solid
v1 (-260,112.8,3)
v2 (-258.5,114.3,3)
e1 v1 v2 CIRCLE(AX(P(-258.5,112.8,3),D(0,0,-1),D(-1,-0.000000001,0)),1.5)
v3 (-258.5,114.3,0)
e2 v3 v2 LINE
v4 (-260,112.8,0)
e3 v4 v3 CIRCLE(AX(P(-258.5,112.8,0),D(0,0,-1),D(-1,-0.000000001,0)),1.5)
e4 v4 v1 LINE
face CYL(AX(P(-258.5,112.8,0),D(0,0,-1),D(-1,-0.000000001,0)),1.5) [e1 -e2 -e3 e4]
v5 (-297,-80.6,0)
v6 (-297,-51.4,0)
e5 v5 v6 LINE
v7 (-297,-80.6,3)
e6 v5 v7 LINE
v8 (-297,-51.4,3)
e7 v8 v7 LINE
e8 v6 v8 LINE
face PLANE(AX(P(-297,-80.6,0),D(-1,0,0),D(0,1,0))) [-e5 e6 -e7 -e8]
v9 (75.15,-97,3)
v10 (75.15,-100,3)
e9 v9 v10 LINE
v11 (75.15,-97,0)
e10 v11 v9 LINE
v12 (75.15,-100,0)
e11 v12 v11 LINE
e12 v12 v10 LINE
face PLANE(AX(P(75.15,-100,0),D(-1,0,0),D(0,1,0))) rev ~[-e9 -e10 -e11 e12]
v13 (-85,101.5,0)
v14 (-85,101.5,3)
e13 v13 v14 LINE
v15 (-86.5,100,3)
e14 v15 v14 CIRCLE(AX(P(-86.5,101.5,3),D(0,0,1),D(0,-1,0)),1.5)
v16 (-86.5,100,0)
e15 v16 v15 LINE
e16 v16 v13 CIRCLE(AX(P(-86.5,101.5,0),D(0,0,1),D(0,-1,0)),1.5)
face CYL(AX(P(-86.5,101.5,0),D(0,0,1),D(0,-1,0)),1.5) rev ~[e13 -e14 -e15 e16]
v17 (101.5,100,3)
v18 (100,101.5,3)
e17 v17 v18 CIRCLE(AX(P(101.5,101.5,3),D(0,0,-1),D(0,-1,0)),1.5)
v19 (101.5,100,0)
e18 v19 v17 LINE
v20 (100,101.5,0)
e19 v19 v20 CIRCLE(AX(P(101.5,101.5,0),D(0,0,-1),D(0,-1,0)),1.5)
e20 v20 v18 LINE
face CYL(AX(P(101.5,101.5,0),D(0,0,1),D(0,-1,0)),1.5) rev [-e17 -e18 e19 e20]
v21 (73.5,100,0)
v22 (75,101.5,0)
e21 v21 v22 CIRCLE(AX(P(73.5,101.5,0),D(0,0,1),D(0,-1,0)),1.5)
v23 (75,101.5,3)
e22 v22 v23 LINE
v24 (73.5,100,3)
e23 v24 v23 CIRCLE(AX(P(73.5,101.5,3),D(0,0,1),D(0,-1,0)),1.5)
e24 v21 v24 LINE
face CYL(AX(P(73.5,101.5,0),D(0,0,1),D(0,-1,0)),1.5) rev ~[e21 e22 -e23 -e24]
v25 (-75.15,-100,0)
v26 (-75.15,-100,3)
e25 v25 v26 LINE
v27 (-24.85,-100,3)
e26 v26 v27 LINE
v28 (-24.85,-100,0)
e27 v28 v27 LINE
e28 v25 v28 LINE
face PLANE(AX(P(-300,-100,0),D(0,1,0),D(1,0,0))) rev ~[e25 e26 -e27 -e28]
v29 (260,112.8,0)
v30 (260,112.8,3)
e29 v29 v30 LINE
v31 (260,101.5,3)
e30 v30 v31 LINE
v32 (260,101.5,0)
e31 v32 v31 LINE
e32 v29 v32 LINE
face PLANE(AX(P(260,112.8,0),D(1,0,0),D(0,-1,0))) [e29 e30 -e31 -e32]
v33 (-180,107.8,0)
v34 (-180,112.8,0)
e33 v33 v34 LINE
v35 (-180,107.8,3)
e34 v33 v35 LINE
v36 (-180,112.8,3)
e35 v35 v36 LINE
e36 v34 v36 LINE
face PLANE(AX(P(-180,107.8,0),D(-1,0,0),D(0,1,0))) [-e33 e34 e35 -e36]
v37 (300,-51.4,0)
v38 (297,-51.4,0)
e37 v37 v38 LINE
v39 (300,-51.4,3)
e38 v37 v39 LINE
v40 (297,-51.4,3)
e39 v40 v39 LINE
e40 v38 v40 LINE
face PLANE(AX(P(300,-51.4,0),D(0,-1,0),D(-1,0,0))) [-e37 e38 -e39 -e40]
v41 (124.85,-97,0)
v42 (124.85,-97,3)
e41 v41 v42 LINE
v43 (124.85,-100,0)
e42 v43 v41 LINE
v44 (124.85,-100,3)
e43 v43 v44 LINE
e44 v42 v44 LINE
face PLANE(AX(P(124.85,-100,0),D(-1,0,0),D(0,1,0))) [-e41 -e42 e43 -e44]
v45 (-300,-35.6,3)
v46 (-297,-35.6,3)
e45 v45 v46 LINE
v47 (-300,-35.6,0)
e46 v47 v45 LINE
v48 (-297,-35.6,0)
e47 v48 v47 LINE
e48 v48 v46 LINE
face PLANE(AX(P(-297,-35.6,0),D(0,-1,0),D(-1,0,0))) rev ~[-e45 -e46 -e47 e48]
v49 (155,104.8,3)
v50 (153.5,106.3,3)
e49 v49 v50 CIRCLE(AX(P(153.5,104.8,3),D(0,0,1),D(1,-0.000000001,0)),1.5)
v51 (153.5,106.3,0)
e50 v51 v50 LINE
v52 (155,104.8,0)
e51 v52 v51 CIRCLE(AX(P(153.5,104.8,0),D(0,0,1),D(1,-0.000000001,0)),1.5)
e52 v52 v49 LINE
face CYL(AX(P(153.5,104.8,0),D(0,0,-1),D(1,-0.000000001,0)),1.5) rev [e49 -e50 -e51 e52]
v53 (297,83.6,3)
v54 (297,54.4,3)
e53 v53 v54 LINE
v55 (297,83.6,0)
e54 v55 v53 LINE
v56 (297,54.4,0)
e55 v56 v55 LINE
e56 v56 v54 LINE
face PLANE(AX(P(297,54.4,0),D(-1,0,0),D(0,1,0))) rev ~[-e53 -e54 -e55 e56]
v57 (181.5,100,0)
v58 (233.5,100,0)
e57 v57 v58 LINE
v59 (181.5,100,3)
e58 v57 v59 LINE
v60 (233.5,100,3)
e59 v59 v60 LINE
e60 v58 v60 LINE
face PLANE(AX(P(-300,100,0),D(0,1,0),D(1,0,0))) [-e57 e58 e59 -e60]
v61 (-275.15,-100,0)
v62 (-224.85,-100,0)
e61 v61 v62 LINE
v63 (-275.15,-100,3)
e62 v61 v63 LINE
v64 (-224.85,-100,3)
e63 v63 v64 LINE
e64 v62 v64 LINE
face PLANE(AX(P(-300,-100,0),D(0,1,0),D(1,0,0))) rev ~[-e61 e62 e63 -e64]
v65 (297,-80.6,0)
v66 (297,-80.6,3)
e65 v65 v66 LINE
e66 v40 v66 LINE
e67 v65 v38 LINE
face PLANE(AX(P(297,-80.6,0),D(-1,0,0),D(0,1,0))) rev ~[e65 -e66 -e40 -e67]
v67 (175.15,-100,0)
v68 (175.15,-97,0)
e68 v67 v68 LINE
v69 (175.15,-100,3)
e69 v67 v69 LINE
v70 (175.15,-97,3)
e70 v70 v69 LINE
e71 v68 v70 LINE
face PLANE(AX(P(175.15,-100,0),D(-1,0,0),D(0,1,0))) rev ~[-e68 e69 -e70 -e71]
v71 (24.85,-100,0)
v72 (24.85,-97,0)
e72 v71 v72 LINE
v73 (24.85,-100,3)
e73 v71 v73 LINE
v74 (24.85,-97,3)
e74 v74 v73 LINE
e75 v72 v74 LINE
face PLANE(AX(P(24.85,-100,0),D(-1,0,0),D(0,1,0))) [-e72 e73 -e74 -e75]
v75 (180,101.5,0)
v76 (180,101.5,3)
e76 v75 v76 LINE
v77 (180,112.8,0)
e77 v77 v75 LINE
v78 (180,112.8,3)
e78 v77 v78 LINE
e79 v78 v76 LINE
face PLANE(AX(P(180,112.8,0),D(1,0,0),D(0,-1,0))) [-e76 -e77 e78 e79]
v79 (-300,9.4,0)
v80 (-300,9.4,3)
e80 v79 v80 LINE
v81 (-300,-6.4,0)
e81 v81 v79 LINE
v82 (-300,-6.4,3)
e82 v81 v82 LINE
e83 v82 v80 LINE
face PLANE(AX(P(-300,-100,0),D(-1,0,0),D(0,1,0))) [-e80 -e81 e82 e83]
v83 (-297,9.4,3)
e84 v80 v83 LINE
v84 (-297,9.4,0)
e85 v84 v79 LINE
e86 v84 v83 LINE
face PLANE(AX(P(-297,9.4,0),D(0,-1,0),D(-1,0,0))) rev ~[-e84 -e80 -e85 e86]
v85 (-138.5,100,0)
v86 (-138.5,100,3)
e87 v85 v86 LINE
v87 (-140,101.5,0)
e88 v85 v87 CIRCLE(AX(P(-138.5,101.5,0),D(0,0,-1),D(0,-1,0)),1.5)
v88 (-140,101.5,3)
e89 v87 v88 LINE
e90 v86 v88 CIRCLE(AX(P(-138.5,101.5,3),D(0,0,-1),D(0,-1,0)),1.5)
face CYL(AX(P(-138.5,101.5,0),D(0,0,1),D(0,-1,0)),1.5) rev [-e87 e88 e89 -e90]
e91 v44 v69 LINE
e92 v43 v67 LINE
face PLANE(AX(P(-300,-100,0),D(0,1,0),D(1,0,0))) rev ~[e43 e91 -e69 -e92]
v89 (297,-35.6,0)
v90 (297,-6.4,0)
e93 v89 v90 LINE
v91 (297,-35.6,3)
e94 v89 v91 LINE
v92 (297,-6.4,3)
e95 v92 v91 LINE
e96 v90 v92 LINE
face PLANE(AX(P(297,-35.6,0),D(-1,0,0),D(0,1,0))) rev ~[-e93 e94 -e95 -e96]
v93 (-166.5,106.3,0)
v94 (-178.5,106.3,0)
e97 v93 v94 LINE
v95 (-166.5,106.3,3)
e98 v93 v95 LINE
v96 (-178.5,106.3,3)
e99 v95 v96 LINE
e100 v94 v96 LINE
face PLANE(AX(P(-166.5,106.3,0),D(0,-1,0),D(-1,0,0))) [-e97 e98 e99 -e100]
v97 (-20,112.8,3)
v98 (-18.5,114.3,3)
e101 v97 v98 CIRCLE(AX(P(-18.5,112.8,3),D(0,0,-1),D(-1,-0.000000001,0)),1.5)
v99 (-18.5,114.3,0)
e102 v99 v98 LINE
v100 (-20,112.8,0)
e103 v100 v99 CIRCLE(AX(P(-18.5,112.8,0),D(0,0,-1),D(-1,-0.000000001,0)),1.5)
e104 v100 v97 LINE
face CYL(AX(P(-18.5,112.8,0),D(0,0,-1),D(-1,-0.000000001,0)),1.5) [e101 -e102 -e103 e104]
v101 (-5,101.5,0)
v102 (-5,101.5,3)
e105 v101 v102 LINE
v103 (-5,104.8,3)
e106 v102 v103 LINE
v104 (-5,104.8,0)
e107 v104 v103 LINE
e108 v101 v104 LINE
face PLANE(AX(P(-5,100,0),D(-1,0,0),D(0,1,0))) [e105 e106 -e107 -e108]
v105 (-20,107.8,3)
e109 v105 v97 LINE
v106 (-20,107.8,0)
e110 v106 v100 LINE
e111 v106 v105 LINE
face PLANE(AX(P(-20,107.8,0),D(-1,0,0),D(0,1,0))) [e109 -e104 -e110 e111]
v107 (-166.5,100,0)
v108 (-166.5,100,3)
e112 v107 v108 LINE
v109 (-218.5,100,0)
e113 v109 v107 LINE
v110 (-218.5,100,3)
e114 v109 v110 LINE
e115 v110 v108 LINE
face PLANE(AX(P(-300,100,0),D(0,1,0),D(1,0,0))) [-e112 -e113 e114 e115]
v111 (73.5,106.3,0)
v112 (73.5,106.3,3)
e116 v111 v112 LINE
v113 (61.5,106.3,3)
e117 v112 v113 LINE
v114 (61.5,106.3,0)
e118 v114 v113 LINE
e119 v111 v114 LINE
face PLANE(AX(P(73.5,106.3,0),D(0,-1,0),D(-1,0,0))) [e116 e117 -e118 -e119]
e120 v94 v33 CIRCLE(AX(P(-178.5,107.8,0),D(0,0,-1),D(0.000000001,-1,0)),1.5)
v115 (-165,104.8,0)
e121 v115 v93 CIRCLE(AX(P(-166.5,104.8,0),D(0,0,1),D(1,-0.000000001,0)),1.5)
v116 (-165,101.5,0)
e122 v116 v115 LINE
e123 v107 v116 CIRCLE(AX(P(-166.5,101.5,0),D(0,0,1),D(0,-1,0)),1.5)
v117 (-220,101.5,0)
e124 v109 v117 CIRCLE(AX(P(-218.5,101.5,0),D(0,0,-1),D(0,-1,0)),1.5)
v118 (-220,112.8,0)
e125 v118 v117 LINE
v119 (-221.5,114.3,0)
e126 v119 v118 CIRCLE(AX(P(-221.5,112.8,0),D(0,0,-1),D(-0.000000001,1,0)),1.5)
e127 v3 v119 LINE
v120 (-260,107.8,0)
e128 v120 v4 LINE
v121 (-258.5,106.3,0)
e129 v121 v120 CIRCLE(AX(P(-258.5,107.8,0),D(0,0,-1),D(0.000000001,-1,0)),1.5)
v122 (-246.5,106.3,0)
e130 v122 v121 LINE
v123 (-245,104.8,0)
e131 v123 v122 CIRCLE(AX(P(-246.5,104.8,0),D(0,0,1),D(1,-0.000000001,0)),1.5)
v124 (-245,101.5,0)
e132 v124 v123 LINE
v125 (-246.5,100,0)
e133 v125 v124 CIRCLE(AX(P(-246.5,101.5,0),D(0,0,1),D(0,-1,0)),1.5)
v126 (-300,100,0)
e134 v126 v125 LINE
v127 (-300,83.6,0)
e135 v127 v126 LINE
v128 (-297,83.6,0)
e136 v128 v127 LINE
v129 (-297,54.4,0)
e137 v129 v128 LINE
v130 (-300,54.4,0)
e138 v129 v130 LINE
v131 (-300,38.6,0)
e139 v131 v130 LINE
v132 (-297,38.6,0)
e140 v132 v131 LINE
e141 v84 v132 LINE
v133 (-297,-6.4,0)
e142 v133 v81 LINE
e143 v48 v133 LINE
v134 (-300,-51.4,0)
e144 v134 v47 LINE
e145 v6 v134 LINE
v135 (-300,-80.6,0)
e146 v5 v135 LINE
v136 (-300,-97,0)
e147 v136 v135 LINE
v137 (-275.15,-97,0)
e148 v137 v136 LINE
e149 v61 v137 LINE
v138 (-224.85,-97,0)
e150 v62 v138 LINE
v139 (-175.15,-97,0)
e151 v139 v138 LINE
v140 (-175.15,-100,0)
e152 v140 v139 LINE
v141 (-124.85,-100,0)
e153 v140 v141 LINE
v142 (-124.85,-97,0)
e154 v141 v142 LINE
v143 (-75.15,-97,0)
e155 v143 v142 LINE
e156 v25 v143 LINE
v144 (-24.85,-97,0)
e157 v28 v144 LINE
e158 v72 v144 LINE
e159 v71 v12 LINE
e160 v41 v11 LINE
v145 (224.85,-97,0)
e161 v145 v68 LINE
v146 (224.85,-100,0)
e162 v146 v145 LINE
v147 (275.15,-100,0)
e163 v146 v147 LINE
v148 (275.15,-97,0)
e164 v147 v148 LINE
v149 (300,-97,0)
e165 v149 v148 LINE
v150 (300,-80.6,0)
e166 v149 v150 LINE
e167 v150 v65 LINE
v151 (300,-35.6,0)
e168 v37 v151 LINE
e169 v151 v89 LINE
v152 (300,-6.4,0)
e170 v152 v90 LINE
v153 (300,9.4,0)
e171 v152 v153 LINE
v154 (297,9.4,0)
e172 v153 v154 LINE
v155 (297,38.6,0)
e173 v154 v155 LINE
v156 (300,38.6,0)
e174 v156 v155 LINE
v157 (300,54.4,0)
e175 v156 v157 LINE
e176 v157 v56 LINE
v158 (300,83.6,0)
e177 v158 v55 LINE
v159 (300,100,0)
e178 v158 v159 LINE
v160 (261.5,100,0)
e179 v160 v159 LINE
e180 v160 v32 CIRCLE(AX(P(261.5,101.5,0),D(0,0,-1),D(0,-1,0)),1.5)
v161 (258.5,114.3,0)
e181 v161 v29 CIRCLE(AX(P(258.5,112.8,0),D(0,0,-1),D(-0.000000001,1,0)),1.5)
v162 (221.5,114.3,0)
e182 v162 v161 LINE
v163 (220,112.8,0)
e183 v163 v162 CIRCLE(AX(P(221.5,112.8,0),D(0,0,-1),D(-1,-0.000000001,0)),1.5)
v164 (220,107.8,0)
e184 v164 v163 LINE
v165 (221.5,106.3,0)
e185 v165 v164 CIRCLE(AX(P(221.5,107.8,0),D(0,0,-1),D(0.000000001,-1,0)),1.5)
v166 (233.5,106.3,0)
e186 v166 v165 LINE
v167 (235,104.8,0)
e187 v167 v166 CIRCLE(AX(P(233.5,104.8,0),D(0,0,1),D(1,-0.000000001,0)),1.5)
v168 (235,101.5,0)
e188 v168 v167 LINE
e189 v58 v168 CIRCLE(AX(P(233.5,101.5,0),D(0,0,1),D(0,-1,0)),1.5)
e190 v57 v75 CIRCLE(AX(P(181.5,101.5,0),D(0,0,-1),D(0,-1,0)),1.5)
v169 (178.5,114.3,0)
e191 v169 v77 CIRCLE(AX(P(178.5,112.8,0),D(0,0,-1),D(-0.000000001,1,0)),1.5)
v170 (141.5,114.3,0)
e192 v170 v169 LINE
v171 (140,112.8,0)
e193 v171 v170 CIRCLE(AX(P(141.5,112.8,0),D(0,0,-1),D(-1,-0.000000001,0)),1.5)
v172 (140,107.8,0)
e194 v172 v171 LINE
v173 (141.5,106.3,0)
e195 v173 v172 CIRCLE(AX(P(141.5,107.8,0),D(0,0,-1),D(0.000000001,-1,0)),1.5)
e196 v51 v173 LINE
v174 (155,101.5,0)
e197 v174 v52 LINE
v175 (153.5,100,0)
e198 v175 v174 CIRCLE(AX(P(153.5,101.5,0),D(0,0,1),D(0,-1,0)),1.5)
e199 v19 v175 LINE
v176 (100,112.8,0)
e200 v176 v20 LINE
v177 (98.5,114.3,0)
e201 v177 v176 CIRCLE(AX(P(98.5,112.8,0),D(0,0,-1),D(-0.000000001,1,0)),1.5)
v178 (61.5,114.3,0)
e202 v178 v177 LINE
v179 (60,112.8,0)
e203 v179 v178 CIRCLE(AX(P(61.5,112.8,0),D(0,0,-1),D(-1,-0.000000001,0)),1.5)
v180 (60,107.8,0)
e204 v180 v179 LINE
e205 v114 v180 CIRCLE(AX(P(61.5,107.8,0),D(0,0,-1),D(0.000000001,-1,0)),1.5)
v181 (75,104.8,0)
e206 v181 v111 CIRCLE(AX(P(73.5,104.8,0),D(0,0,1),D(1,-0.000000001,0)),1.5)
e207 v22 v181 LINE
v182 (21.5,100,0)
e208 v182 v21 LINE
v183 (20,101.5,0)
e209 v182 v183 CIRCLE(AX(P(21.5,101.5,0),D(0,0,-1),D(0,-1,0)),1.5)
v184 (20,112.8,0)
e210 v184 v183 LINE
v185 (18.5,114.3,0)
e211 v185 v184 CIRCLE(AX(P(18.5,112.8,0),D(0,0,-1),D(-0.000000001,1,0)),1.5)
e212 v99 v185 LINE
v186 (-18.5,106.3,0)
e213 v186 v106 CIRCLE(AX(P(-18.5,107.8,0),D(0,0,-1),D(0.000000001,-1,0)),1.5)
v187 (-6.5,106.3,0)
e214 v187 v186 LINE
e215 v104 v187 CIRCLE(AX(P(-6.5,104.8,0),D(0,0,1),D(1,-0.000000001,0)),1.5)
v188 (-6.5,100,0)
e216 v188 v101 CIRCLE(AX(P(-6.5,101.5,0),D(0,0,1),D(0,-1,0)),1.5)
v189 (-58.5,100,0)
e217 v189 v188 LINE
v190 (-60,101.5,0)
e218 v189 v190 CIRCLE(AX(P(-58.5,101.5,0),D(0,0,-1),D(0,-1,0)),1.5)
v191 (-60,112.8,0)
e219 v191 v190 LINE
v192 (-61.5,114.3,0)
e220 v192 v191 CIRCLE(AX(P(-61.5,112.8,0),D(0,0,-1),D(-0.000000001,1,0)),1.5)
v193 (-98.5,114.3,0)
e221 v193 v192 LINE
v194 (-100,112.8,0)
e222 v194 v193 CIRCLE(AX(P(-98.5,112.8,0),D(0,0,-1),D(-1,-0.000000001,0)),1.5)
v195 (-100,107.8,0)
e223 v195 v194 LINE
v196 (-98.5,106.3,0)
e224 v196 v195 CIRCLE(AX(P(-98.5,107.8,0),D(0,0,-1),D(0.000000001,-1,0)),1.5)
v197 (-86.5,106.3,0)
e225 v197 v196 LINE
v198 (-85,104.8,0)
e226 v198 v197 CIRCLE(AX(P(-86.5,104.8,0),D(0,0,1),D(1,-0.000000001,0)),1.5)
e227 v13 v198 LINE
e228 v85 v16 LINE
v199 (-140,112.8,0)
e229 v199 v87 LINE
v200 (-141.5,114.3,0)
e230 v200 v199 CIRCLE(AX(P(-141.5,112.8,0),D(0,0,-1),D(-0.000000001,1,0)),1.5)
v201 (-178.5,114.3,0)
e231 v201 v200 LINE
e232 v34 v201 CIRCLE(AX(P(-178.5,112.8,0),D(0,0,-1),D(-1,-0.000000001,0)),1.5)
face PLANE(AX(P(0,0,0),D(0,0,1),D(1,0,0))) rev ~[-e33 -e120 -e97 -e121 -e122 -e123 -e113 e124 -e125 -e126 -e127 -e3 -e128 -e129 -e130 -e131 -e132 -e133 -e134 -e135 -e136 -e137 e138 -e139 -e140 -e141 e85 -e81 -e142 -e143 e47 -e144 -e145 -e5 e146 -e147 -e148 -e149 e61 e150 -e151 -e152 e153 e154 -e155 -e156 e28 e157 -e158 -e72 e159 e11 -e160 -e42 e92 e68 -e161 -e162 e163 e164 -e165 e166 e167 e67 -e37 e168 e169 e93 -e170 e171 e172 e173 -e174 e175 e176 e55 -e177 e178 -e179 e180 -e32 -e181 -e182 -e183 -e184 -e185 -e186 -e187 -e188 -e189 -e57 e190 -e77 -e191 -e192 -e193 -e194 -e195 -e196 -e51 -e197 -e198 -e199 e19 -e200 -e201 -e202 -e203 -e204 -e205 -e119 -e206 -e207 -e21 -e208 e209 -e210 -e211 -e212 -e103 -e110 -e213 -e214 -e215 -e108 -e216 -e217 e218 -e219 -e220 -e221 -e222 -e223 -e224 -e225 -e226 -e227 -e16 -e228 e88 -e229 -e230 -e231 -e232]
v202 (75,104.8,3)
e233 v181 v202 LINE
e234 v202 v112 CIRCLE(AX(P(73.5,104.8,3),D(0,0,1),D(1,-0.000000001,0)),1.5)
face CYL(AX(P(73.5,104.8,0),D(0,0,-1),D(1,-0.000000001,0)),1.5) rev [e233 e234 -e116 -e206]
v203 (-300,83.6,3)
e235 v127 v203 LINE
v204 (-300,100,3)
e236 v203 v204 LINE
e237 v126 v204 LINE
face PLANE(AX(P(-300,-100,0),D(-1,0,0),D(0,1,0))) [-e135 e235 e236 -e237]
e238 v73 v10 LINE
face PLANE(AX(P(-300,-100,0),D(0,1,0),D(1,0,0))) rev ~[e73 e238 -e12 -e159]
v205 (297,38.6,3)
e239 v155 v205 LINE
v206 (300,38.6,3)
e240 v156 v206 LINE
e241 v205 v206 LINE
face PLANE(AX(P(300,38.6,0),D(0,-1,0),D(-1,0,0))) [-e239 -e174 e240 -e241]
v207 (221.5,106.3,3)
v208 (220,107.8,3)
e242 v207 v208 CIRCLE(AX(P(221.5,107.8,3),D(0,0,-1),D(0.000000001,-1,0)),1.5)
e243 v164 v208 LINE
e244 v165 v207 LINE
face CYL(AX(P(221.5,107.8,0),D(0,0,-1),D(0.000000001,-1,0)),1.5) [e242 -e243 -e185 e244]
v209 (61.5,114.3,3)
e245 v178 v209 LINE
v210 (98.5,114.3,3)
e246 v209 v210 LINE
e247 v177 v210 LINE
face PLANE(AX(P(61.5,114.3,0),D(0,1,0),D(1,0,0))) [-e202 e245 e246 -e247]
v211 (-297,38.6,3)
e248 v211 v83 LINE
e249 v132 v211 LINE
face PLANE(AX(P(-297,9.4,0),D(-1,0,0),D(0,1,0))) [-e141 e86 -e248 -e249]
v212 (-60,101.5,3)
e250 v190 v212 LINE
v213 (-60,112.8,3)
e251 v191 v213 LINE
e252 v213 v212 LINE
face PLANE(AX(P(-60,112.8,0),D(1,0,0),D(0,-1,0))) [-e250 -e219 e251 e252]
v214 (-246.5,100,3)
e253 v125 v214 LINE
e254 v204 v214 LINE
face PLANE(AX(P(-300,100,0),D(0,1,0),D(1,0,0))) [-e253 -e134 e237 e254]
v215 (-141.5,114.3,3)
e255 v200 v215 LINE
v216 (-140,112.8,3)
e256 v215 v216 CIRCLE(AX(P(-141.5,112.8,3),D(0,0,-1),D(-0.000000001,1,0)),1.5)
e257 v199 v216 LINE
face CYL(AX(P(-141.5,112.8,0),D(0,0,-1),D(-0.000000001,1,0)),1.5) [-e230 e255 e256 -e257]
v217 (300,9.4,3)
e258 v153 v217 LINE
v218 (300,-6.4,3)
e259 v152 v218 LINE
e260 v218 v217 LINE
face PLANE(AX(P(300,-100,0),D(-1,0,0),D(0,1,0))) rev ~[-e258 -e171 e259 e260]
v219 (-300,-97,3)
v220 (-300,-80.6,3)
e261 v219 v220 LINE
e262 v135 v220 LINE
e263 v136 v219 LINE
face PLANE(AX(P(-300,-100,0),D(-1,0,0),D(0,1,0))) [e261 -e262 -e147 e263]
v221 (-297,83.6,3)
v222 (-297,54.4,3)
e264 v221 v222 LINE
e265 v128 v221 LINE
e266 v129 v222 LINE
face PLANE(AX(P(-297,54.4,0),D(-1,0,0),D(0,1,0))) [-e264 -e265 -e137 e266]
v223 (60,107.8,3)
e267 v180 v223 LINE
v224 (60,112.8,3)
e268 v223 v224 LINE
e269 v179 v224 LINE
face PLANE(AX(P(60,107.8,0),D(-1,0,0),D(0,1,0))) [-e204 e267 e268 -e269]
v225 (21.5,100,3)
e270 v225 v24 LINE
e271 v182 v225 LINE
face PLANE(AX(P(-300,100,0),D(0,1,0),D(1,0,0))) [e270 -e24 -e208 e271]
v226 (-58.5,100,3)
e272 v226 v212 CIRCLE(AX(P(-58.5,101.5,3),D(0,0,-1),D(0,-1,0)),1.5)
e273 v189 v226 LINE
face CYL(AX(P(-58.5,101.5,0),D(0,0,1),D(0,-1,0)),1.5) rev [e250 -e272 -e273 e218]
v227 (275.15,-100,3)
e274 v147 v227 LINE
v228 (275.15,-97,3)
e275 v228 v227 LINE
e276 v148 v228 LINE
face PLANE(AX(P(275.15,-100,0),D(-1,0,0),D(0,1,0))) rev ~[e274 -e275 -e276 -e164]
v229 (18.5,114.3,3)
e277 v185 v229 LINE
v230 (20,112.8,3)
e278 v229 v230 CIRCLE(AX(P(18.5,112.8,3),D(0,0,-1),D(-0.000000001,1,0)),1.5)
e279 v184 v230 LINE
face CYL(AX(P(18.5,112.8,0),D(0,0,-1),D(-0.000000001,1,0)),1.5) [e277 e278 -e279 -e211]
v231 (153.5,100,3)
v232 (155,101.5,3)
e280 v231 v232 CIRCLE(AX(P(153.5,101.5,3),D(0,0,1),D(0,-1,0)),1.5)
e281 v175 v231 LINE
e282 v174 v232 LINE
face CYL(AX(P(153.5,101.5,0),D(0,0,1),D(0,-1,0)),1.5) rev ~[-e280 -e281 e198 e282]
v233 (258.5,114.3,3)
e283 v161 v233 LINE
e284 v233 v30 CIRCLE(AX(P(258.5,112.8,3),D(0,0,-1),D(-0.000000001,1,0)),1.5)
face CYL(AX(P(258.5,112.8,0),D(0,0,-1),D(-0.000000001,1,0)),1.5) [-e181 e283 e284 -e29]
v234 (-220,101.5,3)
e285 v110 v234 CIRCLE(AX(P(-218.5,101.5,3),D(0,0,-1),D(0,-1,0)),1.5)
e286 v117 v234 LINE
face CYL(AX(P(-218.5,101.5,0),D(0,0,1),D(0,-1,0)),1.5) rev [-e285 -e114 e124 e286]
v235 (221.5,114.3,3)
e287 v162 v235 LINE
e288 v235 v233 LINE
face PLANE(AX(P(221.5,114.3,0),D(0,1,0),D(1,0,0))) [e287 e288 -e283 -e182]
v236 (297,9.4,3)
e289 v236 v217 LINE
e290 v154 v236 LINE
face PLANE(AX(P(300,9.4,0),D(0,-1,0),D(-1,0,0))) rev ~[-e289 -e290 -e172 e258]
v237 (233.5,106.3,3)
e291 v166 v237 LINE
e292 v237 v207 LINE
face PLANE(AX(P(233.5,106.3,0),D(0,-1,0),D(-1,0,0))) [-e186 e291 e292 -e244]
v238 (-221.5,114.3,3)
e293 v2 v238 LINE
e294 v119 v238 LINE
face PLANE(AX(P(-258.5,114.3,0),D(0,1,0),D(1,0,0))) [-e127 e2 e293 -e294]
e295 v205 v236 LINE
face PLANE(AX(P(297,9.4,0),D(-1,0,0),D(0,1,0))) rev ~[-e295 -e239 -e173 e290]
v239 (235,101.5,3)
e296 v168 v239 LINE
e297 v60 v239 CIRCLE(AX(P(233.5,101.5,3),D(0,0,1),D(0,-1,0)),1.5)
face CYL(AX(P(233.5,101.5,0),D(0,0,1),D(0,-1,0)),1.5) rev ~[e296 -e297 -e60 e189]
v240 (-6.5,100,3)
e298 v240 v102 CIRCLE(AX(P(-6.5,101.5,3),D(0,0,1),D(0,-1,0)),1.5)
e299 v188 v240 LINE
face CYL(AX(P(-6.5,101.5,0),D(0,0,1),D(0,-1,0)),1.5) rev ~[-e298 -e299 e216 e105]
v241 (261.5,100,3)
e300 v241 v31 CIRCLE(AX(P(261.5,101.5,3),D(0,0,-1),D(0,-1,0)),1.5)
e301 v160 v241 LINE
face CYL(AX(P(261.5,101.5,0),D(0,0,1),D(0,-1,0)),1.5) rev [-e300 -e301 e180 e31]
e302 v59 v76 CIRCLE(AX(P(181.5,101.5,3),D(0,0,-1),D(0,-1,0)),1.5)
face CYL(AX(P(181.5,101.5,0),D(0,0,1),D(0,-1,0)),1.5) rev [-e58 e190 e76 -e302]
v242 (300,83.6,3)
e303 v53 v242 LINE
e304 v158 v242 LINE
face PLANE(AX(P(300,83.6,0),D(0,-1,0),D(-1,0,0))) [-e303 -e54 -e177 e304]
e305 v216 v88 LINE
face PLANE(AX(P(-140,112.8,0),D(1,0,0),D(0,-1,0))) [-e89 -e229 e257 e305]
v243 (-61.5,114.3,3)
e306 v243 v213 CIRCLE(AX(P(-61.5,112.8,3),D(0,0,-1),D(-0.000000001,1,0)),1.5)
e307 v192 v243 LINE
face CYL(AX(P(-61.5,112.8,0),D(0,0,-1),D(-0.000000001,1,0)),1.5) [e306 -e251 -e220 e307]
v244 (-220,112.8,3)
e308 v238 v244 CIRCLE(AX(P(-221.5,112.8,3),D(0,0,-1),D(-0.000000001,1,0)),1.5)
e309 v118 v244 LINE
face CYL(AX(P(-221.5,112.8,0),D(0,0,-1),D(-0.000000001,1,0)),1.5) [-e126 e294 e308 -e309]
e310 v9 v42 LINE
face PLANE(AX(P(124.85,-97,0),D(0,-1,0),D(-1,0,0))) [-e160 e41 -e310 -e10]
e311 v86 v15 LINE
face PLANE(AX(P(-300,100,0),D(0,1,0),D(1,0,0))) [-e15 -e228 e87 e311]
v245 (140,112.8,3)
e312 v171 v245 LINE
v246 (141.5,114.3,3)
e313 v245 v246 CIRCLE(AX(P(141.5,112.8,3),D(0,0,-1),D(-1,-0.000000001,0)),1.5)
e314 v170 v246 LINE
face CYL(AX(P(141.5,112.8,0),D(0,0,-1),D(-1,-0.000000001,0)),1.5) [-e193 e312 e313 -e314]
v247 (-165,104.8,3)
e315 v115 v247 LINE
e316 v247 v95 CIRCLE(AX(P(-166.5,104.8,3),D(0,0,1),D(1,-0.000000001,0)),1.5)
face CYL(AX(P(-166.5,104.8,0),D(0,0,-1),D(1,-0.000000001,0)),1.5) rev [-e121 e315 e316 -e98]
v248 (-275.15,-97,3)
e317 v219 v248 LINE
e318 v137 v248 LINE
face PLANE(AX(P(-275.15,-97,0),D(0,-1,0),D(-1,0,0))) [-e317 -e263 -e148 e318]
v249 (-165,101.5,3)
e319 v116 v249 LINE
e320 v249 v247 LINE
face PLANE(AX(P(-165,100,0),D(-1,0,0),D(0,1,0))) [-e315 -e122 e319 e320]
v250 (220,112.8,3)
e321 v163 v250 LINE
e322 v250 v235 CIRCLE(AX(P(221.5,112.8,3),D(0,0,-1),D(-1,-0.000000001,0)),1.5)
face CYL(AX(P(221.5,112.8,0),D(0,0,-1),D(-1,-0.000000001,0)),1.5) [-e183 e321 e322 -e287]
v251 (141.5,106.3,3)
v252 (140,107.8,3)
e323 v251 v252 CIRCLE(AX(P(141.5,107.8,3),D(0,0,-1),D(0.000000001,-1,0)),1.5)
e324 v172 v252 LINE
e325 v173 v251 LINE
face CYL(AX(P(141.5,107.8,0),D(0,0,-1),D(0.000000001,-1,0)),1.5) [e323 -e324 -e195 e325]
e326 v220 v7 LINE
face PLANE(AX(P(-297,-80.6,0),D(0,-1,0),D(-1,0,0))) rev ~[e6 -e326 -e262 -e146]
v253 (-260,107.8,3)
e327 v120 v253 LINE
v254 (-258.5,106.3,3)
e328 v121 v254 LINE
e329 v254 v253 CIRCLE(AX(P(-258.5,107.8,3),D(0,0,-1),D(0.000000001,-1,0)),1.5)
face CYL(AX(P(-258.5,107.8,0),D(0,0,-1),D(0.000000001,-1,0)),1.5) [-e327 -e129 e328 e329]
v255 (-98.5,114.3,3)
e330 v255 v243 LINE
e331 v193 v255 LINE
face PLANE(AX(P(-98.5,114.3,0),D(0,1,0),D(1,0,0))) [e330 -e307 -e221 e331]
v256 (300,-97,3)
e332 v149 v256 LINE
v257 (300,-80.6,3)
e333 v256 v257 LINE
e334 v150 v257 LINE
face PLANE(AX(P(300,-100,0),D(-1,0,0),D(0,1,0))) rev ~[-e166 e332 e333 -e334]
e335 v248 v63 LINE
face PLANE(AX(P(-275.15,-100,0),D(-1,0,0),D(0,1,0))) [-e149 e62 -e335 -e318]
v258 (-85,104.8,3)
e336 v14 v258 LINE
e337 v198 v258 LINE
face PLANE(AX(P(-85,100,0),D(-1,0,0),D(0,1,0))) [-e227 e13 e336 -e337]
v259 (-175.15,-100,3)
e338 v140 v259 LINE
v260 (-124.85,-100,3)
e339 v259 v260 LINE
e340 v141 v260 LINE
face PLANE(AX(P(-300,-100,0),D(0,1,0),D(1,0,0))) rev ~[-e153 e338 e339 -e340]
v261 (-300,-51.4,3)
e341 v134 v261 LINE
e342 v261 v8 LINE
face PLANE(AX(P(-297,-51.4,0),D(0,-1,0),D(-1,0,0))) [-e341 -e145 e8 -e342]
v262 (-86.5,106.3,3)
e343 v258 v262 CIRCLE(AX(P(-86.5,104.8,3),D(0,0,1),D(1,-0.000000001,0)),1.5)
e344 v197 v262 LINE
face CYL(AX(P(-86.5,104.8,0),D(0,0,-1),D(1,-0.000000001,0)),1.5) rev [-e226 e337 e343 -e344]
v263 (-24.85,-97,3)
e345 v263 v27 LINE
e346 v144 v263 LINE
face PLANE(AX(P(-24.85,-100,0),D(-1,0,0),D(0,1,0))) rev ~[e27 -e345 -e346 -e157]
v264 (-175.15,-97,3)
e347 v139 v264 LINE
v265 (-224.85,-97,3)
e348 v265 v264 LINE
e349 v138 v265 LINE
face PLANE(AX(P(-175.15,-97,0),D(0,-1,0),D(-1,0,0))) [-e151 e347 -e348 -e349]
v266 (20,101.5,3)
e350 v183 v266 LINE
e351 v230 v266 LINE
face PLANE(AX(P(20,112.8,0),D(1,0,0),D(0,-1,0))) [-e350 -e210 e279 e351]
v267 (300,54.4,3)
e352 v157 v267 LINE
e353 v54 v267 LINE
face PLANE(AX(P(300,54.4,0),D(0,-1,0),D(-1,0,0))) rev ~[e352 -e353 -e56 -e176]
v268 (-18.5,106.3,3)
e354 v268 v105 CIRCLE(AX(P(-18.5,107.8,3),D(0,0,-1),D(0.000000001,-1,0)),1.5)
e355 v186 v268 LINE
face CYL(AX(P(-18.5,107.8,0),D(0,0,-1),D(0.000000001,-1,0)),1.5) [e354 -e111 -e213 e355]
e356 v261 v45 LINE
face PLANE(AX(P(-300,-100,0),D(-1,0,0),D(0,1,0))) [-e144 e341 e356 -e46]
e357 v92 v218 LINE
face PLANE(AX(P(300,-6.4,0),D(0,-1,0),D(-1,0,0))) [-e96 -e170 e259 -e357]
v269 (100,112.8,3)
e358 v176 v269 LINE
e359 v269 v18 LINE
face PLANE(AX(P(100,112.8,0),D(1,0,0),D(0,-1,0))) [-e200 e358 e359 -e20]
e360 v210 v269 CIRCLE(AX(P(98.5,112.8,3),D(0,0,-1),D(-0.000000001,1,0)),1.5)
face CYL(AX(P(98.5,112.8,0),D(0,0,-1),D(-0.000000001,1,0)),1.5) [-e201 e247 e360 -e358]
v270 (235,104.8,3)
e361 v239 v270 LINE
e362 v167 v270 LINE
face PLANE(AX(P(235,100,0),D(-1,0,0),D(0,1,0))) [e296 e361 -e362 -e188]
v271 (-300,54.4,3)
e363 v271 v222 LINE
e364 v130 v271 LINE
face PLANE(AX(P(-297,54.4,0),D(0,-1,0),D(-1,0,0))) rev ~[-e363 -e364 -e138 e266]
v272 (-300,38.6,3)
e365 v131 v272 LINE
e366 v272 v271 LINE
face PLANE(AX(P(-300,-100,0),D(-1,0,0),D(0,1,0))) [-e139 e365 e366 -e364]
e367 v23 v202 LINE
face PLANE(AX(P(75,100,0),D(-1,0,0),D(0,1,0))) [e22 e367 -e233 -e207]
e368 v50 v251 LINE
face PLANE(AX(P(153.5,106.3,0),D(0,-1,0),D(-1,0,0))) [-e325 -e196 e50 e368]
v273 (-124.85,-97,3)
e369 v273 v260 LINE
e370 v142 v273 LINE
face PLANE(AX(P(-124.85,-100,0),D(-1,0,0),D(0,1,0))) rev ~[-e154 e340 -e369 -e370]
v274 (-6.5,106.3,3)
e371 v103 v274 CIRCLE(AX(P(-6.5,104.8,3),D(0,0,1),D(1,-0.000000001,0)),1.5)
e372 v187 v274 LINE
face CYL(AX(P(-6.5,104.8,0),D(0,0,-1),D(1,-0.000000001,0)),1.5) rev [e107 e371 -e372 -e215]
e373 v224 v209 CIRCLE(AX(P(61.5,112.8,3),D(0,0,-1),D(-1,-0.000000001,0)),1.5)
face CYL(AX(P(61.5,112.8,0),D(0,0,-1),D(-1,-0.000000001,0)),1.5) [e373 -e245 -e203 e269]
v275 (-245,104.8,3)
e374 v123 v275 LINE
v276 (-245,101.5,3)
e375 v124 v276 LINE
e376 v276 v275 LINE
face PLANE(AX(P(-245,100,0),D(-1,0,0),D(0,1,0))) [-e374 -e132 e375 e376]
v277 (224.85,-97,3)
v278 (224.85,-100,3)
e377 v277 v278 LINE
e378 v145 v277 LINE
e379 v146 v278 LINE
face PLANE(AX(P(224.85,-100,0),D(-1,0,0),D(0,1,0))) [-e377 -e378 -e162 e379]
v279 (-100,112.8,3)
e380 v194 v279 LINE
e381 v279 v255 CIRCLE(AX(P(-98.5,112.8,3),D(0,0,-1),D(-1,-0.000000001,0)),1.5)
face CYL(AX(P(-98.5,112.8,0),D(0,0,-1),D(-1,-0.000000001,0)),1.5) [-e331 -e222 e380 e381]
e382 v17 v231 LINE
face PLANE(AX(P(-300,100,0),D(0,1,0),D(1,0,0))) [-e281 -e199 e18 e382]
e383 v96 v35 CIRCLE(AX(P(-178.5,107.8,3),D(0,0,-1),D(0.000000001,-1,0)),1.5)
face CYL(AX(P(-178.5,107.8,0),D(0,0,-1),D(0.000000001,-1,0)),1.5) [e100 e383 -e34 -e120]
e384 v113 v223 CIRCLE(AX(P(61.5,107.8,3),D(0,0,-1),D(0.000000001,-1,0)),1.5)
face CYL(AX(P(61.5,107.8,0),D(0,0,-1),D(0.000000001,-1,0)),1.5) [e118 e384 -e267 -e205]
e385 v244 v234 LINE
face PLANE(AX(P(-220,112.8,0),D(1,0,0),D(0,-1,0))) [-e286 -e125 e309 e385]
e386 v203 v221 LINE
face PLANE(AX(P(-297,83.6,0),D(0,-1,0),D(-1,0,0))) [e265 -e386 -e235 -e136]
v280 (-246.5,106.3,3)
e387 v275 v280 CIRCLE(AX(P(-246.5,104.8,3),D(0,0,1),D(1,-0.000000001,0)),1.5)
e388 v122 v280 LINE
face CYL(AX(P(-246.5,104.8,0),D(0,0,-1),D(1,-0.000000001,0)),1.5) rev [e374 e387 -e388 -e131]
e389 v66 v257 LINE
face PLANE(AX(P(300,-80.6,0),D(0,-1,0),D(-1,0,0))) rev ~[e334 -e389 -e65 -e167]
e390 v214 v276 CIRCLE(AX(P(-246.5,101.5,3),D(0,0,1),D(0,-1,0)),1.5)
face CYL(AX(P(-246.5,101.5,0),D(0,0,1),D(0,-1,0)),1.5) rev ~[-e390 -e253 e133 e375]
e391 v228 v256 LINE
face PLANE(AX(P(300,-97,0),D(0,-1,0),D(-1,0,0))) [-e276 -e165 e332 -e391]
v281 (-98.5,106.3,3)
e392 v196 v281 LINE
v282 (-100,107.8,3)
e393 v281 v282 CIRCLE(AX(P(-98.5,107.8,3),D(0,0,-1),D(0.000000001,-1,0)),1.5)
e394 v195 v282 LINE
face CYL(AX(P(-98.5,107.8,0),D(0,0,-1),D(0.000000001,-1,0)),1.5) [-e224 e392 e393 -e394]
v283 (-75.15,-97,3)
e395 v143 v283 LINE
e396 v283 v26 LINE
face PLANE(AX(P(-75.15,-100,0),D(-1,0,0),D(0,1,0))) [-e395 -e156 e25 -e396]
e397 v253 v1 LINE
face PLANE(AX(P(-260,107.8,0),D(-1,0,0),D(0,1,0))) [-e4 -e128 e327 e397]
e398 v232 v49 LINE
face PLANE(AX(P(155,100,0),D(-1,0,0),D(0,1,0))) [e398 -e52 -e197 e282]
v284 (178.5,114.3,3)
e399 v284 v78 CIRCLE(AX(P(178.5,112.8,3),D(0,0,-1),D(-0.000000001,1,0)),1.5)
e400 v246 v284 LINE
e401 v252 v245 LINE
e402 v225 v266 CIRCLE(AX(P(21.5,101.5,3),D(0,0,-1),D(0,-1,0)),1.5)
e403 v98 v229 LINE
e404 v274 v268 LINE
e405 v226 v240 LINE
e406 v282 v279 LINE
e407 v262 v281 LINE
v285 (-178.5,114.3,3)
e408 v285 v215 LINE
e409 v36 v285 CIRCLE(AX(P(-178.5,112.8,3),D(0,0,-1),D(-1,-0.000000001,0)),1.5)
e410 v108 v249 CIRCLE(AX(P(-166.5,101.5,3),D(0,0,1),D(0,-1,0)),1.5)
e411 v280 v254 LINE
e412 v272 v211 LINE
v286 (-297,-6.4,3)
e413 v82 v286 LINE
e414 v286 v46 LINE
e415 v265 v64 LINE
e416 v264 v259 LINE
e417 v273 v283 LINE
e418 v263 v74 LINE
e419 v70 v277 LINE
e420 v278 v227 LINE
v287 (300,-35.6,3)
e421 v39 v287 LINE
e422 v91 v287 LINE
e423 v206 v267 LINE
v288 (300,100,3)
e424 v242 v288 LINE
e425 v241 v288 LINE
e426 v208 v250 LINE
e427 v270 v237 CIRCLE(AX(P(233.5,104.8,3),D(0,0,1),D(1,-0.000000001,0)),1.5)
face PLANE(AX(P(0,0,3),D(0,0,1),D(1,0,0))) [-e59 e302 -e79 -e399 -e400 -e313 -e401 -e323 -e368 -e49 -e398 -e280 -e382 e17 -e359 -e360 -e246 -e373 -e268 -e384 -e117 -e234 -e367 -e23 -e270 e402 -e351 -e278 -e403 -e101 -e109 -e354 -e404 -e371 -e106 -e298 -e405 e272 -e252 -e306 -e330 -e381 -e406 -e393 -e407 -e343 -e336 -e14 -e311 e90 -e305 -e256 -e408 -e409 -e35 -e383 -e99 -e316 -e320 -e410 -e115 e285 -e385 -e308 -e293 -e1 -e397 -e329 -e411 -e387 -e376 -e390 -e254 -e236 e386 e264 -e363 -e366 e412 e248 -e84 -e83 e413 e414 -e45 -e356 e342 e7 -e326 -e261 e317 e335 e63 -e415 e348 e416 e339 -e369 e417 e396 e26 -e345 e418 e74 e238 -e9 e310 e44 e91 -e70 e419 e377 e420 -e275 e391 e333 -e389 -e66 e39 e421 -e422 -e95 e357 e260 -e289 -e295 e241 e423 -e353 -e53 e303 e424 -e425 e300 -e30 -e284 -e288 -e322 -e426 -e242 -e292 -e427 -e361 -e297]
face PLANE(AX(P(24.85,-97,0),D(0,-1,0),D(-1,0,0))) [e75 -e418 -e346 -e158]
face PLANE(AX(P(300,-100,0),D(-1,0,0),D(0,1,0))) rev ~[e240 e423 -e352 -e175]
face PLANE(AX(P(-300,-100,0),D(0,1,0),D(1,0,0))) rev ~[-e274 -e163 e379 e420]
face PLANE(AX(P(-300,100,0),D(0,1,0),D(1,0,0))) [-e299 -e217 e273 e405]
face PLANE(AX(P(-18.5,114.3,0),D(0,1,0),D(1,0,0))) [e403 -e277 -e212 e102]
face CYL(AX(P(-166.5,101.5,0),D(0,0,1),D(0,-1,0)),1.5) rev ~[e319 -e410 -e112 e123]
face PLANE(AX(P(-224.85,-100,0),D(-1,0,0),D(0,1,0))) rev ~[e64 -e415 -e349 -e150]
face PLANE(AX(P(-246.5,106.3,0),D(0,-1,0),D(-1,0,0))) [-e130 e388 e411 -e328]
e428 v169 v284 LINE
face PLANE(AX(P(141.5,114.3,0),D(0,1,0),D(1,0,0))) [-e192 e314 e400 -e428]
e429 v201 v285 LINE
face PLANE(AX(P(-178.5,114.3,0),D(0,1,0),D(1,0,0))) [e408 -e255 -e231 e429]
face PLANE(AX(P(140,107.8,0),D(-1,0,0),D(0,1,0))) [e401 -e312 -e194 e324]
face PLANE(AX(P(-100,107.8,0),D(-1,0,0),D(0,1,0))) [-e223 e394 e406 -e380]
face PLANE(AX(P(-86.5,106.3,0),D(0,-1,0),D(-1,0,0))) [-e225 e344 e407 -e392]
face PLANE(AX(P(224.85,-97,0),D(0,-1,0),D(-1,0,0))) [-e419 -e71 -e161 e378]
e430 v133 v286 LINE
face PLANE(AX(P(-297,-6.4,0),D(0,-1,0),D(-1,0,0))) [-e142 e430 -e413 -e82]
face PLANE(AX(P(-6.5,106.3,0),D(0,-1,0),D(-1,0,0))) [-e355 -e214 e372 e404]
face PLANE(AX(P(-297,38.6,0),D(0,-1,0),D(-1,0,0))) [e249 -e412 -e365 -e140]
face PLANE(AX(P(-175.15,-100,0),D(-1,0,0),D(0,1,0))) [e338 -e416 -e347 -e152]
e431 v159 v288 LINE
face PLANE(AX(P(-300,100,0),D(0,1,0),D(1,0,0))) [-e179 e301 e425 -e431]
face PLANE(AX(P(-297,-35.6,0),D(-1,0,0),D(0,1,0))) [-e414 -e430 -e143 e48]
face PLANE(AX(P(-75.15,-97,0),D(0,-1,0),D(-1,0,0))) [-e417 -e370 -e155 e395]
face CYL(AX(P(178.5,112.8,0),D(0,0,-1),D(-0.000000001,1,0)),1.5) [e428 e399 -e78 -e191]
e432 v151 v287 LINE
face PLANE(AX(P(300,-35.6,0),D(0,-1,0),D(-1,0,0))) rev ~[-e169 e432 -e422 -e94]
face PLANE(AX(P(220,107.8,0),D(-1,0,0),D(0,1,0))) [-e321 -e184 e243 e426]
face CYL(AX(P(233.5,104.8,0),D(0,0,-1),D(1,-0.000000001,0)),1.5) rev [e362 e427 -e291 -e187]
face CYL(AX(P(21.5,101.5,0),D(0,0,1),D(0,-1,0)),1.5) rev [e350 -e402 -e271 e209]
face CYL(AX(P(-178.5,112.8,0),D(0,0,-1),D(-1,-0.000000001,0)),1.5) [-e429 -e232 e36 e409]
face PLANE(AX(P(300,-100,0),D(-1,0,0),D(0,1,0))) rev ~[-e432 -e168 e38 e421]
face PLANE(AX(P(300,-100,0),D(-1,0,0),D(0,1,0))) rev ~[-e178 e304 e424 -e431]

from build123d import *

# Parameters (mm, degrees)
CROQUIS1_W              = 600
CROQUIS1_H              = 200
SALIENTE_EXTRUIR1_DEPTH = 3
CROQUIS2_W              = 3
CROQUIS2_H              = 29.2
CROQUIS2_W_2            = 24.85
CROQUIS2_H_2            = 3
CROQUIS2_W_3            = 49.7
CORTAR_EXTRUIR1_DEPTH   = 4
SALIENTE_EXTRUIR2_DEPTH = 3
REDONDEO1_R             = 1.5


with BuildPart() as part:
    # Croquis1 → Saliente-Extruir1 (new body)
    with BuildSketch(Plane.XY):
        Rectangle(CROQUIS1_W, CROQUIS1_H)
    extrude(amount=SALIENTE_EXTRUIR1_DEPTH)

    # Croquis2 → Cortar-Extruir1 (cut, through all)
    with BuildSketch(Plane(origin=(0, 0, 0), x_dir=(-1, 0, 0), z_dir=(0, 0, -1))):
        with Locations((-298.5, 69)):
            Rectangle(CROQUIS2_W, CROQUIS2_H)
        with Locations((298.5, 69)):
            Rectangle(CROQUIS2_W, CROQUIS2_H)
        with Locations((-298.5, 24)):
            Rectangle(CROQUIS2_W, CROQUIS2_H)
        with Locations((298.5, 24)):
            Rectangle(CROQUIS2_W, CROQUIS2_H)
        with Locations((-298.5, -21)):
            Rectangle(CROQUIS2_W, CROQUIS2_H)
        with Locations((298.5, -21)):
            Rectangle(CROQUIS2_W, CROQUIS2_H)
        with Locations((-298.5, -66)):
            Rectangle(CROQUIS2_W, CROQUIS2_H)
        with Locations((298.5, -66)):
            Rectangle(CROQUIS2_W, CROQUIS2_H)
        with Locations((-287.575, -98.5)):
            Rectangle(CROQUIS2_W_2, CROQUIS2_H_2)
        with Locations((287.575, -98.5)):
            Rectangle(CROQUIS2_W_2, CROQUIS2_H_2)
        with Locations((-200, -98.5)):
            Rectangle(CROQUIS2_W_3, CROQUIS2_H_2)
        with Locations((200, -98.5)):
            Rectangle(CROQUIS2_W_3, CROQUIS2_H_2)
        with Locations((-100, -98.5)):
            Rectangle(CROQUIS2_W_3, CROQUIS2_H_2)
        with Locations((100, -98.5)):
            Rectangle(CROQUIS2_W_3, CROQUIS2_H_2)
        with Locations((0, -98.5)):
            Rectangle(CROQUIS2_W_3, CROQUIS2_H_2)
    extrude(amount=-CORTAR_EXTRUIR1_DEPTH, mode=Mode.SUBTRACT)

    # Croquis3 → Saliente-Extruir2 (add)
    with BuildSketch(Plane(origin=(0, 0, 0), x_dir=(-1, 0, 0), z_dir=(0, 0, -1))):
        with BuildLine():
            Line((-235, 100), (-235, 104.8))
            ThreePointArc((-235, 104.8), (-234.560660172, 105.860660172), (-233.5, 106.3))
            Line((-233.5, 106.3), (-221.5, 106.3))
            ThreePointArc((-221.5, 106.3), (-220.439339828, 106.739339828), (-220, 107.8))
            Line((-220, 107.8), (-220, 112.8))
            ThreePointArc((-220, 112.8), (-220.439339828, 113.860660172), (-221.5, 114.3))
            Line((-221.5, 114.3), (-258.5, 114.3))
            ThreePointArc((-258.5, 114.3), (-259.560660172, 113.860660172), (-260, 112.8))
            Line((-260, 112.8), (-260, 100))
            Line((-260, 100), (-235, 100))
        make_face()
        with BuildLine():
            Line((-180, 100), (-155, 100))
            Line((-155, 100), (-155, 104.8))
            ThreePointArc((-155, 104.8), (-154.560660172, 105.860660172), (-153.5, 106.3))
            Line((-153.5, 106.3), (-141.5, 106.3))
            ThreePointArc((-141.5, 106.3), (-140.439339828, 106.739339828), (-140, 107.8))
            Line((-140, 107.8), (-140, 112.8))
            ThreePointArc((-140, 112.8), (-140.439339828, 113.860660172), (-141.5, 114.3))
            Line((-141.5, 114.3), (-178.5, 114.3))
            ThreePointArc((-178.5, 114.3), (-179.560660172, 113.860660172), (-180, 112.8))
            Line((-180, 112.8), (-180, 100))
        make_face()
        with BuildLine():
            Line((-100, 100), (-75, 100))
            Line((-75, 100), (-75, 104.8))
            ThreePointArc((-75, 104.8), (-74.560660172, 105.860660172), (-73.5, 106.3))
            Line((-73.5, 106.3), (-61.5, 106.3))
            ThreePointArc((-61.5, 106.3), (-60.439339828, 106.739339828), (-60, 107.8))
            Line((-60, 107.8), (-60, 112.8))
            ThreePointArc((-60, 112.8), (-60.439339828, 113.860660172), (-61.5, 114.3))
            Line((-61.5, 114.3), (-98.5, 114.3))
            ThreePointArc((-98.5, 114.3), (-99.560660172, 113.860660172), (-100, 112.8))
            Line((-100, 112.8), (-100, 100))
        make_face()
        with BuildLine():
            Line((-20, 100), (5, 100))
            Line((5, 100), (5, 104.8))
            ThreePointArc((5, 104.8), (5.439339828, 105.860660172), (6.5, 106.3))
            Line((6.5, 106.3), (18.5, 106.3))
            ThreePointArc((18.5, 106.3), (19.560660172, 106.739339828), (20, 107.8))
            Line((20, 107.8), (20, 112.8))
            ThreePointArc((20, 112.8), (19.560660172, 113.860660172), (18.5, 114.3))
            Line((18.5, 114.3), (-18.5, 114.3))
            ThreePointArc((-18.5, 114.3), (-19.560660172, 113.860660172), (-20, 112.8))
            Line((-20, 112.8), (-20, 100))
        make_face()
        with BuildLine():
            Line((60, 100), (85, 100))
            Line((85, 100), (85, 104.8))
            ThreePointArc((85, 104.8), (85.439339828, 105.860660172), (86.5, 106.3))
            Line((86.5, 106.3), (98.5, 106.3))
            ThreePointArc((98.5, 106.3), (99.560660172, 106.739339828), (100, 107.8))
            Line((100, 107.8), (100, 112.8))
            ThreePointArc((100, 112.8), (99.560660172, 113.860660172), (98.5, 114.3))
            Line((98.5, 114.3), (61.5, 114.3))
            ThreePointArc((61.5, 114.3), (60.439339828, 113.860660172), (60, 112.8))
            Line((60, 112.8), (60, 100))
        make_face()
        with BuildLine():
            Line((140, 100), (165, 100))
            Line((165, 100), (165, 104.8))
            ThreePointArc((165, 104.8), (165.439339828, 105.860660172), (166.5, 106.3))
            Line((166.5, 106.3), (178.5, 106.3))
            ThreePointArc((178.5, 106.3), (179.560660172, 106.739339828), (180, 107.8))
            Line((180, 107.8), (180, 112.8))
            ThreePointArc((180, 112.8), (179.560660172, 113.860660172), (178.5, 114.3))
            Line((178.5, 114.3), (141.5, 114.3))
            ThreePointArc((141.5, 114.3), (140.439339828, 113.860660172), (140, 112.8))
            Line((140, 112.8), (140, 100))
        make_face()
        with BuildLine():
            Line((220, 100), (245, 100))
            Line((245, 100), (245, 104.8))
            ThreePointArc((245, 104.8), (245.439339828, 105.860660172), (246.5, 106.3))
            Line((246.5, 106.3), (258.5, 106.3))
            ThreePointArc((258.5, 106.3), (259.560660172, 106.739339828), (260, 107.8))
            Line((260, 107.8), (260, 112.8))
            ThreePointArc((260, 112.8), (259.560660172, 113.860660172), (258.5, 114.3))
            Line((258.5, 114.3), (221.5, 114.3))
            ThreePointArc((221.5, 114.3), (220.439339828, 113.860660172), (220, 112.8))
            Line((220, 112.8), (220, 100))
        make_face()
    extrude(amount=-SALIENTE_EXTRUIR2_DEPTH)

    # Redondeo1
    redondeo1_edges = [part.edges().sort_by_distance(p)[0] for p in [
        (235, 100, 1.5),
        (260, 100, 1.5),
        (155, 100, 1.5),
        (180, 100, 1.5),
        (75, 100, 1.5),
        (100, 100, 1.5),
        (-5, 100, 1.5),
        (20, 100, 1.5),
        (-85, 100, 1.5),
        (-60, 100, 1.5),
        (-165, 100, 1.5),
        (-140, 100, 1.5),
        (-245, 100, 1.5),
        (-220, 100, 1.5),
    ]]
    fillet(redondeo1_edges, radius=REDONDEO1_R)


solid = part.part
